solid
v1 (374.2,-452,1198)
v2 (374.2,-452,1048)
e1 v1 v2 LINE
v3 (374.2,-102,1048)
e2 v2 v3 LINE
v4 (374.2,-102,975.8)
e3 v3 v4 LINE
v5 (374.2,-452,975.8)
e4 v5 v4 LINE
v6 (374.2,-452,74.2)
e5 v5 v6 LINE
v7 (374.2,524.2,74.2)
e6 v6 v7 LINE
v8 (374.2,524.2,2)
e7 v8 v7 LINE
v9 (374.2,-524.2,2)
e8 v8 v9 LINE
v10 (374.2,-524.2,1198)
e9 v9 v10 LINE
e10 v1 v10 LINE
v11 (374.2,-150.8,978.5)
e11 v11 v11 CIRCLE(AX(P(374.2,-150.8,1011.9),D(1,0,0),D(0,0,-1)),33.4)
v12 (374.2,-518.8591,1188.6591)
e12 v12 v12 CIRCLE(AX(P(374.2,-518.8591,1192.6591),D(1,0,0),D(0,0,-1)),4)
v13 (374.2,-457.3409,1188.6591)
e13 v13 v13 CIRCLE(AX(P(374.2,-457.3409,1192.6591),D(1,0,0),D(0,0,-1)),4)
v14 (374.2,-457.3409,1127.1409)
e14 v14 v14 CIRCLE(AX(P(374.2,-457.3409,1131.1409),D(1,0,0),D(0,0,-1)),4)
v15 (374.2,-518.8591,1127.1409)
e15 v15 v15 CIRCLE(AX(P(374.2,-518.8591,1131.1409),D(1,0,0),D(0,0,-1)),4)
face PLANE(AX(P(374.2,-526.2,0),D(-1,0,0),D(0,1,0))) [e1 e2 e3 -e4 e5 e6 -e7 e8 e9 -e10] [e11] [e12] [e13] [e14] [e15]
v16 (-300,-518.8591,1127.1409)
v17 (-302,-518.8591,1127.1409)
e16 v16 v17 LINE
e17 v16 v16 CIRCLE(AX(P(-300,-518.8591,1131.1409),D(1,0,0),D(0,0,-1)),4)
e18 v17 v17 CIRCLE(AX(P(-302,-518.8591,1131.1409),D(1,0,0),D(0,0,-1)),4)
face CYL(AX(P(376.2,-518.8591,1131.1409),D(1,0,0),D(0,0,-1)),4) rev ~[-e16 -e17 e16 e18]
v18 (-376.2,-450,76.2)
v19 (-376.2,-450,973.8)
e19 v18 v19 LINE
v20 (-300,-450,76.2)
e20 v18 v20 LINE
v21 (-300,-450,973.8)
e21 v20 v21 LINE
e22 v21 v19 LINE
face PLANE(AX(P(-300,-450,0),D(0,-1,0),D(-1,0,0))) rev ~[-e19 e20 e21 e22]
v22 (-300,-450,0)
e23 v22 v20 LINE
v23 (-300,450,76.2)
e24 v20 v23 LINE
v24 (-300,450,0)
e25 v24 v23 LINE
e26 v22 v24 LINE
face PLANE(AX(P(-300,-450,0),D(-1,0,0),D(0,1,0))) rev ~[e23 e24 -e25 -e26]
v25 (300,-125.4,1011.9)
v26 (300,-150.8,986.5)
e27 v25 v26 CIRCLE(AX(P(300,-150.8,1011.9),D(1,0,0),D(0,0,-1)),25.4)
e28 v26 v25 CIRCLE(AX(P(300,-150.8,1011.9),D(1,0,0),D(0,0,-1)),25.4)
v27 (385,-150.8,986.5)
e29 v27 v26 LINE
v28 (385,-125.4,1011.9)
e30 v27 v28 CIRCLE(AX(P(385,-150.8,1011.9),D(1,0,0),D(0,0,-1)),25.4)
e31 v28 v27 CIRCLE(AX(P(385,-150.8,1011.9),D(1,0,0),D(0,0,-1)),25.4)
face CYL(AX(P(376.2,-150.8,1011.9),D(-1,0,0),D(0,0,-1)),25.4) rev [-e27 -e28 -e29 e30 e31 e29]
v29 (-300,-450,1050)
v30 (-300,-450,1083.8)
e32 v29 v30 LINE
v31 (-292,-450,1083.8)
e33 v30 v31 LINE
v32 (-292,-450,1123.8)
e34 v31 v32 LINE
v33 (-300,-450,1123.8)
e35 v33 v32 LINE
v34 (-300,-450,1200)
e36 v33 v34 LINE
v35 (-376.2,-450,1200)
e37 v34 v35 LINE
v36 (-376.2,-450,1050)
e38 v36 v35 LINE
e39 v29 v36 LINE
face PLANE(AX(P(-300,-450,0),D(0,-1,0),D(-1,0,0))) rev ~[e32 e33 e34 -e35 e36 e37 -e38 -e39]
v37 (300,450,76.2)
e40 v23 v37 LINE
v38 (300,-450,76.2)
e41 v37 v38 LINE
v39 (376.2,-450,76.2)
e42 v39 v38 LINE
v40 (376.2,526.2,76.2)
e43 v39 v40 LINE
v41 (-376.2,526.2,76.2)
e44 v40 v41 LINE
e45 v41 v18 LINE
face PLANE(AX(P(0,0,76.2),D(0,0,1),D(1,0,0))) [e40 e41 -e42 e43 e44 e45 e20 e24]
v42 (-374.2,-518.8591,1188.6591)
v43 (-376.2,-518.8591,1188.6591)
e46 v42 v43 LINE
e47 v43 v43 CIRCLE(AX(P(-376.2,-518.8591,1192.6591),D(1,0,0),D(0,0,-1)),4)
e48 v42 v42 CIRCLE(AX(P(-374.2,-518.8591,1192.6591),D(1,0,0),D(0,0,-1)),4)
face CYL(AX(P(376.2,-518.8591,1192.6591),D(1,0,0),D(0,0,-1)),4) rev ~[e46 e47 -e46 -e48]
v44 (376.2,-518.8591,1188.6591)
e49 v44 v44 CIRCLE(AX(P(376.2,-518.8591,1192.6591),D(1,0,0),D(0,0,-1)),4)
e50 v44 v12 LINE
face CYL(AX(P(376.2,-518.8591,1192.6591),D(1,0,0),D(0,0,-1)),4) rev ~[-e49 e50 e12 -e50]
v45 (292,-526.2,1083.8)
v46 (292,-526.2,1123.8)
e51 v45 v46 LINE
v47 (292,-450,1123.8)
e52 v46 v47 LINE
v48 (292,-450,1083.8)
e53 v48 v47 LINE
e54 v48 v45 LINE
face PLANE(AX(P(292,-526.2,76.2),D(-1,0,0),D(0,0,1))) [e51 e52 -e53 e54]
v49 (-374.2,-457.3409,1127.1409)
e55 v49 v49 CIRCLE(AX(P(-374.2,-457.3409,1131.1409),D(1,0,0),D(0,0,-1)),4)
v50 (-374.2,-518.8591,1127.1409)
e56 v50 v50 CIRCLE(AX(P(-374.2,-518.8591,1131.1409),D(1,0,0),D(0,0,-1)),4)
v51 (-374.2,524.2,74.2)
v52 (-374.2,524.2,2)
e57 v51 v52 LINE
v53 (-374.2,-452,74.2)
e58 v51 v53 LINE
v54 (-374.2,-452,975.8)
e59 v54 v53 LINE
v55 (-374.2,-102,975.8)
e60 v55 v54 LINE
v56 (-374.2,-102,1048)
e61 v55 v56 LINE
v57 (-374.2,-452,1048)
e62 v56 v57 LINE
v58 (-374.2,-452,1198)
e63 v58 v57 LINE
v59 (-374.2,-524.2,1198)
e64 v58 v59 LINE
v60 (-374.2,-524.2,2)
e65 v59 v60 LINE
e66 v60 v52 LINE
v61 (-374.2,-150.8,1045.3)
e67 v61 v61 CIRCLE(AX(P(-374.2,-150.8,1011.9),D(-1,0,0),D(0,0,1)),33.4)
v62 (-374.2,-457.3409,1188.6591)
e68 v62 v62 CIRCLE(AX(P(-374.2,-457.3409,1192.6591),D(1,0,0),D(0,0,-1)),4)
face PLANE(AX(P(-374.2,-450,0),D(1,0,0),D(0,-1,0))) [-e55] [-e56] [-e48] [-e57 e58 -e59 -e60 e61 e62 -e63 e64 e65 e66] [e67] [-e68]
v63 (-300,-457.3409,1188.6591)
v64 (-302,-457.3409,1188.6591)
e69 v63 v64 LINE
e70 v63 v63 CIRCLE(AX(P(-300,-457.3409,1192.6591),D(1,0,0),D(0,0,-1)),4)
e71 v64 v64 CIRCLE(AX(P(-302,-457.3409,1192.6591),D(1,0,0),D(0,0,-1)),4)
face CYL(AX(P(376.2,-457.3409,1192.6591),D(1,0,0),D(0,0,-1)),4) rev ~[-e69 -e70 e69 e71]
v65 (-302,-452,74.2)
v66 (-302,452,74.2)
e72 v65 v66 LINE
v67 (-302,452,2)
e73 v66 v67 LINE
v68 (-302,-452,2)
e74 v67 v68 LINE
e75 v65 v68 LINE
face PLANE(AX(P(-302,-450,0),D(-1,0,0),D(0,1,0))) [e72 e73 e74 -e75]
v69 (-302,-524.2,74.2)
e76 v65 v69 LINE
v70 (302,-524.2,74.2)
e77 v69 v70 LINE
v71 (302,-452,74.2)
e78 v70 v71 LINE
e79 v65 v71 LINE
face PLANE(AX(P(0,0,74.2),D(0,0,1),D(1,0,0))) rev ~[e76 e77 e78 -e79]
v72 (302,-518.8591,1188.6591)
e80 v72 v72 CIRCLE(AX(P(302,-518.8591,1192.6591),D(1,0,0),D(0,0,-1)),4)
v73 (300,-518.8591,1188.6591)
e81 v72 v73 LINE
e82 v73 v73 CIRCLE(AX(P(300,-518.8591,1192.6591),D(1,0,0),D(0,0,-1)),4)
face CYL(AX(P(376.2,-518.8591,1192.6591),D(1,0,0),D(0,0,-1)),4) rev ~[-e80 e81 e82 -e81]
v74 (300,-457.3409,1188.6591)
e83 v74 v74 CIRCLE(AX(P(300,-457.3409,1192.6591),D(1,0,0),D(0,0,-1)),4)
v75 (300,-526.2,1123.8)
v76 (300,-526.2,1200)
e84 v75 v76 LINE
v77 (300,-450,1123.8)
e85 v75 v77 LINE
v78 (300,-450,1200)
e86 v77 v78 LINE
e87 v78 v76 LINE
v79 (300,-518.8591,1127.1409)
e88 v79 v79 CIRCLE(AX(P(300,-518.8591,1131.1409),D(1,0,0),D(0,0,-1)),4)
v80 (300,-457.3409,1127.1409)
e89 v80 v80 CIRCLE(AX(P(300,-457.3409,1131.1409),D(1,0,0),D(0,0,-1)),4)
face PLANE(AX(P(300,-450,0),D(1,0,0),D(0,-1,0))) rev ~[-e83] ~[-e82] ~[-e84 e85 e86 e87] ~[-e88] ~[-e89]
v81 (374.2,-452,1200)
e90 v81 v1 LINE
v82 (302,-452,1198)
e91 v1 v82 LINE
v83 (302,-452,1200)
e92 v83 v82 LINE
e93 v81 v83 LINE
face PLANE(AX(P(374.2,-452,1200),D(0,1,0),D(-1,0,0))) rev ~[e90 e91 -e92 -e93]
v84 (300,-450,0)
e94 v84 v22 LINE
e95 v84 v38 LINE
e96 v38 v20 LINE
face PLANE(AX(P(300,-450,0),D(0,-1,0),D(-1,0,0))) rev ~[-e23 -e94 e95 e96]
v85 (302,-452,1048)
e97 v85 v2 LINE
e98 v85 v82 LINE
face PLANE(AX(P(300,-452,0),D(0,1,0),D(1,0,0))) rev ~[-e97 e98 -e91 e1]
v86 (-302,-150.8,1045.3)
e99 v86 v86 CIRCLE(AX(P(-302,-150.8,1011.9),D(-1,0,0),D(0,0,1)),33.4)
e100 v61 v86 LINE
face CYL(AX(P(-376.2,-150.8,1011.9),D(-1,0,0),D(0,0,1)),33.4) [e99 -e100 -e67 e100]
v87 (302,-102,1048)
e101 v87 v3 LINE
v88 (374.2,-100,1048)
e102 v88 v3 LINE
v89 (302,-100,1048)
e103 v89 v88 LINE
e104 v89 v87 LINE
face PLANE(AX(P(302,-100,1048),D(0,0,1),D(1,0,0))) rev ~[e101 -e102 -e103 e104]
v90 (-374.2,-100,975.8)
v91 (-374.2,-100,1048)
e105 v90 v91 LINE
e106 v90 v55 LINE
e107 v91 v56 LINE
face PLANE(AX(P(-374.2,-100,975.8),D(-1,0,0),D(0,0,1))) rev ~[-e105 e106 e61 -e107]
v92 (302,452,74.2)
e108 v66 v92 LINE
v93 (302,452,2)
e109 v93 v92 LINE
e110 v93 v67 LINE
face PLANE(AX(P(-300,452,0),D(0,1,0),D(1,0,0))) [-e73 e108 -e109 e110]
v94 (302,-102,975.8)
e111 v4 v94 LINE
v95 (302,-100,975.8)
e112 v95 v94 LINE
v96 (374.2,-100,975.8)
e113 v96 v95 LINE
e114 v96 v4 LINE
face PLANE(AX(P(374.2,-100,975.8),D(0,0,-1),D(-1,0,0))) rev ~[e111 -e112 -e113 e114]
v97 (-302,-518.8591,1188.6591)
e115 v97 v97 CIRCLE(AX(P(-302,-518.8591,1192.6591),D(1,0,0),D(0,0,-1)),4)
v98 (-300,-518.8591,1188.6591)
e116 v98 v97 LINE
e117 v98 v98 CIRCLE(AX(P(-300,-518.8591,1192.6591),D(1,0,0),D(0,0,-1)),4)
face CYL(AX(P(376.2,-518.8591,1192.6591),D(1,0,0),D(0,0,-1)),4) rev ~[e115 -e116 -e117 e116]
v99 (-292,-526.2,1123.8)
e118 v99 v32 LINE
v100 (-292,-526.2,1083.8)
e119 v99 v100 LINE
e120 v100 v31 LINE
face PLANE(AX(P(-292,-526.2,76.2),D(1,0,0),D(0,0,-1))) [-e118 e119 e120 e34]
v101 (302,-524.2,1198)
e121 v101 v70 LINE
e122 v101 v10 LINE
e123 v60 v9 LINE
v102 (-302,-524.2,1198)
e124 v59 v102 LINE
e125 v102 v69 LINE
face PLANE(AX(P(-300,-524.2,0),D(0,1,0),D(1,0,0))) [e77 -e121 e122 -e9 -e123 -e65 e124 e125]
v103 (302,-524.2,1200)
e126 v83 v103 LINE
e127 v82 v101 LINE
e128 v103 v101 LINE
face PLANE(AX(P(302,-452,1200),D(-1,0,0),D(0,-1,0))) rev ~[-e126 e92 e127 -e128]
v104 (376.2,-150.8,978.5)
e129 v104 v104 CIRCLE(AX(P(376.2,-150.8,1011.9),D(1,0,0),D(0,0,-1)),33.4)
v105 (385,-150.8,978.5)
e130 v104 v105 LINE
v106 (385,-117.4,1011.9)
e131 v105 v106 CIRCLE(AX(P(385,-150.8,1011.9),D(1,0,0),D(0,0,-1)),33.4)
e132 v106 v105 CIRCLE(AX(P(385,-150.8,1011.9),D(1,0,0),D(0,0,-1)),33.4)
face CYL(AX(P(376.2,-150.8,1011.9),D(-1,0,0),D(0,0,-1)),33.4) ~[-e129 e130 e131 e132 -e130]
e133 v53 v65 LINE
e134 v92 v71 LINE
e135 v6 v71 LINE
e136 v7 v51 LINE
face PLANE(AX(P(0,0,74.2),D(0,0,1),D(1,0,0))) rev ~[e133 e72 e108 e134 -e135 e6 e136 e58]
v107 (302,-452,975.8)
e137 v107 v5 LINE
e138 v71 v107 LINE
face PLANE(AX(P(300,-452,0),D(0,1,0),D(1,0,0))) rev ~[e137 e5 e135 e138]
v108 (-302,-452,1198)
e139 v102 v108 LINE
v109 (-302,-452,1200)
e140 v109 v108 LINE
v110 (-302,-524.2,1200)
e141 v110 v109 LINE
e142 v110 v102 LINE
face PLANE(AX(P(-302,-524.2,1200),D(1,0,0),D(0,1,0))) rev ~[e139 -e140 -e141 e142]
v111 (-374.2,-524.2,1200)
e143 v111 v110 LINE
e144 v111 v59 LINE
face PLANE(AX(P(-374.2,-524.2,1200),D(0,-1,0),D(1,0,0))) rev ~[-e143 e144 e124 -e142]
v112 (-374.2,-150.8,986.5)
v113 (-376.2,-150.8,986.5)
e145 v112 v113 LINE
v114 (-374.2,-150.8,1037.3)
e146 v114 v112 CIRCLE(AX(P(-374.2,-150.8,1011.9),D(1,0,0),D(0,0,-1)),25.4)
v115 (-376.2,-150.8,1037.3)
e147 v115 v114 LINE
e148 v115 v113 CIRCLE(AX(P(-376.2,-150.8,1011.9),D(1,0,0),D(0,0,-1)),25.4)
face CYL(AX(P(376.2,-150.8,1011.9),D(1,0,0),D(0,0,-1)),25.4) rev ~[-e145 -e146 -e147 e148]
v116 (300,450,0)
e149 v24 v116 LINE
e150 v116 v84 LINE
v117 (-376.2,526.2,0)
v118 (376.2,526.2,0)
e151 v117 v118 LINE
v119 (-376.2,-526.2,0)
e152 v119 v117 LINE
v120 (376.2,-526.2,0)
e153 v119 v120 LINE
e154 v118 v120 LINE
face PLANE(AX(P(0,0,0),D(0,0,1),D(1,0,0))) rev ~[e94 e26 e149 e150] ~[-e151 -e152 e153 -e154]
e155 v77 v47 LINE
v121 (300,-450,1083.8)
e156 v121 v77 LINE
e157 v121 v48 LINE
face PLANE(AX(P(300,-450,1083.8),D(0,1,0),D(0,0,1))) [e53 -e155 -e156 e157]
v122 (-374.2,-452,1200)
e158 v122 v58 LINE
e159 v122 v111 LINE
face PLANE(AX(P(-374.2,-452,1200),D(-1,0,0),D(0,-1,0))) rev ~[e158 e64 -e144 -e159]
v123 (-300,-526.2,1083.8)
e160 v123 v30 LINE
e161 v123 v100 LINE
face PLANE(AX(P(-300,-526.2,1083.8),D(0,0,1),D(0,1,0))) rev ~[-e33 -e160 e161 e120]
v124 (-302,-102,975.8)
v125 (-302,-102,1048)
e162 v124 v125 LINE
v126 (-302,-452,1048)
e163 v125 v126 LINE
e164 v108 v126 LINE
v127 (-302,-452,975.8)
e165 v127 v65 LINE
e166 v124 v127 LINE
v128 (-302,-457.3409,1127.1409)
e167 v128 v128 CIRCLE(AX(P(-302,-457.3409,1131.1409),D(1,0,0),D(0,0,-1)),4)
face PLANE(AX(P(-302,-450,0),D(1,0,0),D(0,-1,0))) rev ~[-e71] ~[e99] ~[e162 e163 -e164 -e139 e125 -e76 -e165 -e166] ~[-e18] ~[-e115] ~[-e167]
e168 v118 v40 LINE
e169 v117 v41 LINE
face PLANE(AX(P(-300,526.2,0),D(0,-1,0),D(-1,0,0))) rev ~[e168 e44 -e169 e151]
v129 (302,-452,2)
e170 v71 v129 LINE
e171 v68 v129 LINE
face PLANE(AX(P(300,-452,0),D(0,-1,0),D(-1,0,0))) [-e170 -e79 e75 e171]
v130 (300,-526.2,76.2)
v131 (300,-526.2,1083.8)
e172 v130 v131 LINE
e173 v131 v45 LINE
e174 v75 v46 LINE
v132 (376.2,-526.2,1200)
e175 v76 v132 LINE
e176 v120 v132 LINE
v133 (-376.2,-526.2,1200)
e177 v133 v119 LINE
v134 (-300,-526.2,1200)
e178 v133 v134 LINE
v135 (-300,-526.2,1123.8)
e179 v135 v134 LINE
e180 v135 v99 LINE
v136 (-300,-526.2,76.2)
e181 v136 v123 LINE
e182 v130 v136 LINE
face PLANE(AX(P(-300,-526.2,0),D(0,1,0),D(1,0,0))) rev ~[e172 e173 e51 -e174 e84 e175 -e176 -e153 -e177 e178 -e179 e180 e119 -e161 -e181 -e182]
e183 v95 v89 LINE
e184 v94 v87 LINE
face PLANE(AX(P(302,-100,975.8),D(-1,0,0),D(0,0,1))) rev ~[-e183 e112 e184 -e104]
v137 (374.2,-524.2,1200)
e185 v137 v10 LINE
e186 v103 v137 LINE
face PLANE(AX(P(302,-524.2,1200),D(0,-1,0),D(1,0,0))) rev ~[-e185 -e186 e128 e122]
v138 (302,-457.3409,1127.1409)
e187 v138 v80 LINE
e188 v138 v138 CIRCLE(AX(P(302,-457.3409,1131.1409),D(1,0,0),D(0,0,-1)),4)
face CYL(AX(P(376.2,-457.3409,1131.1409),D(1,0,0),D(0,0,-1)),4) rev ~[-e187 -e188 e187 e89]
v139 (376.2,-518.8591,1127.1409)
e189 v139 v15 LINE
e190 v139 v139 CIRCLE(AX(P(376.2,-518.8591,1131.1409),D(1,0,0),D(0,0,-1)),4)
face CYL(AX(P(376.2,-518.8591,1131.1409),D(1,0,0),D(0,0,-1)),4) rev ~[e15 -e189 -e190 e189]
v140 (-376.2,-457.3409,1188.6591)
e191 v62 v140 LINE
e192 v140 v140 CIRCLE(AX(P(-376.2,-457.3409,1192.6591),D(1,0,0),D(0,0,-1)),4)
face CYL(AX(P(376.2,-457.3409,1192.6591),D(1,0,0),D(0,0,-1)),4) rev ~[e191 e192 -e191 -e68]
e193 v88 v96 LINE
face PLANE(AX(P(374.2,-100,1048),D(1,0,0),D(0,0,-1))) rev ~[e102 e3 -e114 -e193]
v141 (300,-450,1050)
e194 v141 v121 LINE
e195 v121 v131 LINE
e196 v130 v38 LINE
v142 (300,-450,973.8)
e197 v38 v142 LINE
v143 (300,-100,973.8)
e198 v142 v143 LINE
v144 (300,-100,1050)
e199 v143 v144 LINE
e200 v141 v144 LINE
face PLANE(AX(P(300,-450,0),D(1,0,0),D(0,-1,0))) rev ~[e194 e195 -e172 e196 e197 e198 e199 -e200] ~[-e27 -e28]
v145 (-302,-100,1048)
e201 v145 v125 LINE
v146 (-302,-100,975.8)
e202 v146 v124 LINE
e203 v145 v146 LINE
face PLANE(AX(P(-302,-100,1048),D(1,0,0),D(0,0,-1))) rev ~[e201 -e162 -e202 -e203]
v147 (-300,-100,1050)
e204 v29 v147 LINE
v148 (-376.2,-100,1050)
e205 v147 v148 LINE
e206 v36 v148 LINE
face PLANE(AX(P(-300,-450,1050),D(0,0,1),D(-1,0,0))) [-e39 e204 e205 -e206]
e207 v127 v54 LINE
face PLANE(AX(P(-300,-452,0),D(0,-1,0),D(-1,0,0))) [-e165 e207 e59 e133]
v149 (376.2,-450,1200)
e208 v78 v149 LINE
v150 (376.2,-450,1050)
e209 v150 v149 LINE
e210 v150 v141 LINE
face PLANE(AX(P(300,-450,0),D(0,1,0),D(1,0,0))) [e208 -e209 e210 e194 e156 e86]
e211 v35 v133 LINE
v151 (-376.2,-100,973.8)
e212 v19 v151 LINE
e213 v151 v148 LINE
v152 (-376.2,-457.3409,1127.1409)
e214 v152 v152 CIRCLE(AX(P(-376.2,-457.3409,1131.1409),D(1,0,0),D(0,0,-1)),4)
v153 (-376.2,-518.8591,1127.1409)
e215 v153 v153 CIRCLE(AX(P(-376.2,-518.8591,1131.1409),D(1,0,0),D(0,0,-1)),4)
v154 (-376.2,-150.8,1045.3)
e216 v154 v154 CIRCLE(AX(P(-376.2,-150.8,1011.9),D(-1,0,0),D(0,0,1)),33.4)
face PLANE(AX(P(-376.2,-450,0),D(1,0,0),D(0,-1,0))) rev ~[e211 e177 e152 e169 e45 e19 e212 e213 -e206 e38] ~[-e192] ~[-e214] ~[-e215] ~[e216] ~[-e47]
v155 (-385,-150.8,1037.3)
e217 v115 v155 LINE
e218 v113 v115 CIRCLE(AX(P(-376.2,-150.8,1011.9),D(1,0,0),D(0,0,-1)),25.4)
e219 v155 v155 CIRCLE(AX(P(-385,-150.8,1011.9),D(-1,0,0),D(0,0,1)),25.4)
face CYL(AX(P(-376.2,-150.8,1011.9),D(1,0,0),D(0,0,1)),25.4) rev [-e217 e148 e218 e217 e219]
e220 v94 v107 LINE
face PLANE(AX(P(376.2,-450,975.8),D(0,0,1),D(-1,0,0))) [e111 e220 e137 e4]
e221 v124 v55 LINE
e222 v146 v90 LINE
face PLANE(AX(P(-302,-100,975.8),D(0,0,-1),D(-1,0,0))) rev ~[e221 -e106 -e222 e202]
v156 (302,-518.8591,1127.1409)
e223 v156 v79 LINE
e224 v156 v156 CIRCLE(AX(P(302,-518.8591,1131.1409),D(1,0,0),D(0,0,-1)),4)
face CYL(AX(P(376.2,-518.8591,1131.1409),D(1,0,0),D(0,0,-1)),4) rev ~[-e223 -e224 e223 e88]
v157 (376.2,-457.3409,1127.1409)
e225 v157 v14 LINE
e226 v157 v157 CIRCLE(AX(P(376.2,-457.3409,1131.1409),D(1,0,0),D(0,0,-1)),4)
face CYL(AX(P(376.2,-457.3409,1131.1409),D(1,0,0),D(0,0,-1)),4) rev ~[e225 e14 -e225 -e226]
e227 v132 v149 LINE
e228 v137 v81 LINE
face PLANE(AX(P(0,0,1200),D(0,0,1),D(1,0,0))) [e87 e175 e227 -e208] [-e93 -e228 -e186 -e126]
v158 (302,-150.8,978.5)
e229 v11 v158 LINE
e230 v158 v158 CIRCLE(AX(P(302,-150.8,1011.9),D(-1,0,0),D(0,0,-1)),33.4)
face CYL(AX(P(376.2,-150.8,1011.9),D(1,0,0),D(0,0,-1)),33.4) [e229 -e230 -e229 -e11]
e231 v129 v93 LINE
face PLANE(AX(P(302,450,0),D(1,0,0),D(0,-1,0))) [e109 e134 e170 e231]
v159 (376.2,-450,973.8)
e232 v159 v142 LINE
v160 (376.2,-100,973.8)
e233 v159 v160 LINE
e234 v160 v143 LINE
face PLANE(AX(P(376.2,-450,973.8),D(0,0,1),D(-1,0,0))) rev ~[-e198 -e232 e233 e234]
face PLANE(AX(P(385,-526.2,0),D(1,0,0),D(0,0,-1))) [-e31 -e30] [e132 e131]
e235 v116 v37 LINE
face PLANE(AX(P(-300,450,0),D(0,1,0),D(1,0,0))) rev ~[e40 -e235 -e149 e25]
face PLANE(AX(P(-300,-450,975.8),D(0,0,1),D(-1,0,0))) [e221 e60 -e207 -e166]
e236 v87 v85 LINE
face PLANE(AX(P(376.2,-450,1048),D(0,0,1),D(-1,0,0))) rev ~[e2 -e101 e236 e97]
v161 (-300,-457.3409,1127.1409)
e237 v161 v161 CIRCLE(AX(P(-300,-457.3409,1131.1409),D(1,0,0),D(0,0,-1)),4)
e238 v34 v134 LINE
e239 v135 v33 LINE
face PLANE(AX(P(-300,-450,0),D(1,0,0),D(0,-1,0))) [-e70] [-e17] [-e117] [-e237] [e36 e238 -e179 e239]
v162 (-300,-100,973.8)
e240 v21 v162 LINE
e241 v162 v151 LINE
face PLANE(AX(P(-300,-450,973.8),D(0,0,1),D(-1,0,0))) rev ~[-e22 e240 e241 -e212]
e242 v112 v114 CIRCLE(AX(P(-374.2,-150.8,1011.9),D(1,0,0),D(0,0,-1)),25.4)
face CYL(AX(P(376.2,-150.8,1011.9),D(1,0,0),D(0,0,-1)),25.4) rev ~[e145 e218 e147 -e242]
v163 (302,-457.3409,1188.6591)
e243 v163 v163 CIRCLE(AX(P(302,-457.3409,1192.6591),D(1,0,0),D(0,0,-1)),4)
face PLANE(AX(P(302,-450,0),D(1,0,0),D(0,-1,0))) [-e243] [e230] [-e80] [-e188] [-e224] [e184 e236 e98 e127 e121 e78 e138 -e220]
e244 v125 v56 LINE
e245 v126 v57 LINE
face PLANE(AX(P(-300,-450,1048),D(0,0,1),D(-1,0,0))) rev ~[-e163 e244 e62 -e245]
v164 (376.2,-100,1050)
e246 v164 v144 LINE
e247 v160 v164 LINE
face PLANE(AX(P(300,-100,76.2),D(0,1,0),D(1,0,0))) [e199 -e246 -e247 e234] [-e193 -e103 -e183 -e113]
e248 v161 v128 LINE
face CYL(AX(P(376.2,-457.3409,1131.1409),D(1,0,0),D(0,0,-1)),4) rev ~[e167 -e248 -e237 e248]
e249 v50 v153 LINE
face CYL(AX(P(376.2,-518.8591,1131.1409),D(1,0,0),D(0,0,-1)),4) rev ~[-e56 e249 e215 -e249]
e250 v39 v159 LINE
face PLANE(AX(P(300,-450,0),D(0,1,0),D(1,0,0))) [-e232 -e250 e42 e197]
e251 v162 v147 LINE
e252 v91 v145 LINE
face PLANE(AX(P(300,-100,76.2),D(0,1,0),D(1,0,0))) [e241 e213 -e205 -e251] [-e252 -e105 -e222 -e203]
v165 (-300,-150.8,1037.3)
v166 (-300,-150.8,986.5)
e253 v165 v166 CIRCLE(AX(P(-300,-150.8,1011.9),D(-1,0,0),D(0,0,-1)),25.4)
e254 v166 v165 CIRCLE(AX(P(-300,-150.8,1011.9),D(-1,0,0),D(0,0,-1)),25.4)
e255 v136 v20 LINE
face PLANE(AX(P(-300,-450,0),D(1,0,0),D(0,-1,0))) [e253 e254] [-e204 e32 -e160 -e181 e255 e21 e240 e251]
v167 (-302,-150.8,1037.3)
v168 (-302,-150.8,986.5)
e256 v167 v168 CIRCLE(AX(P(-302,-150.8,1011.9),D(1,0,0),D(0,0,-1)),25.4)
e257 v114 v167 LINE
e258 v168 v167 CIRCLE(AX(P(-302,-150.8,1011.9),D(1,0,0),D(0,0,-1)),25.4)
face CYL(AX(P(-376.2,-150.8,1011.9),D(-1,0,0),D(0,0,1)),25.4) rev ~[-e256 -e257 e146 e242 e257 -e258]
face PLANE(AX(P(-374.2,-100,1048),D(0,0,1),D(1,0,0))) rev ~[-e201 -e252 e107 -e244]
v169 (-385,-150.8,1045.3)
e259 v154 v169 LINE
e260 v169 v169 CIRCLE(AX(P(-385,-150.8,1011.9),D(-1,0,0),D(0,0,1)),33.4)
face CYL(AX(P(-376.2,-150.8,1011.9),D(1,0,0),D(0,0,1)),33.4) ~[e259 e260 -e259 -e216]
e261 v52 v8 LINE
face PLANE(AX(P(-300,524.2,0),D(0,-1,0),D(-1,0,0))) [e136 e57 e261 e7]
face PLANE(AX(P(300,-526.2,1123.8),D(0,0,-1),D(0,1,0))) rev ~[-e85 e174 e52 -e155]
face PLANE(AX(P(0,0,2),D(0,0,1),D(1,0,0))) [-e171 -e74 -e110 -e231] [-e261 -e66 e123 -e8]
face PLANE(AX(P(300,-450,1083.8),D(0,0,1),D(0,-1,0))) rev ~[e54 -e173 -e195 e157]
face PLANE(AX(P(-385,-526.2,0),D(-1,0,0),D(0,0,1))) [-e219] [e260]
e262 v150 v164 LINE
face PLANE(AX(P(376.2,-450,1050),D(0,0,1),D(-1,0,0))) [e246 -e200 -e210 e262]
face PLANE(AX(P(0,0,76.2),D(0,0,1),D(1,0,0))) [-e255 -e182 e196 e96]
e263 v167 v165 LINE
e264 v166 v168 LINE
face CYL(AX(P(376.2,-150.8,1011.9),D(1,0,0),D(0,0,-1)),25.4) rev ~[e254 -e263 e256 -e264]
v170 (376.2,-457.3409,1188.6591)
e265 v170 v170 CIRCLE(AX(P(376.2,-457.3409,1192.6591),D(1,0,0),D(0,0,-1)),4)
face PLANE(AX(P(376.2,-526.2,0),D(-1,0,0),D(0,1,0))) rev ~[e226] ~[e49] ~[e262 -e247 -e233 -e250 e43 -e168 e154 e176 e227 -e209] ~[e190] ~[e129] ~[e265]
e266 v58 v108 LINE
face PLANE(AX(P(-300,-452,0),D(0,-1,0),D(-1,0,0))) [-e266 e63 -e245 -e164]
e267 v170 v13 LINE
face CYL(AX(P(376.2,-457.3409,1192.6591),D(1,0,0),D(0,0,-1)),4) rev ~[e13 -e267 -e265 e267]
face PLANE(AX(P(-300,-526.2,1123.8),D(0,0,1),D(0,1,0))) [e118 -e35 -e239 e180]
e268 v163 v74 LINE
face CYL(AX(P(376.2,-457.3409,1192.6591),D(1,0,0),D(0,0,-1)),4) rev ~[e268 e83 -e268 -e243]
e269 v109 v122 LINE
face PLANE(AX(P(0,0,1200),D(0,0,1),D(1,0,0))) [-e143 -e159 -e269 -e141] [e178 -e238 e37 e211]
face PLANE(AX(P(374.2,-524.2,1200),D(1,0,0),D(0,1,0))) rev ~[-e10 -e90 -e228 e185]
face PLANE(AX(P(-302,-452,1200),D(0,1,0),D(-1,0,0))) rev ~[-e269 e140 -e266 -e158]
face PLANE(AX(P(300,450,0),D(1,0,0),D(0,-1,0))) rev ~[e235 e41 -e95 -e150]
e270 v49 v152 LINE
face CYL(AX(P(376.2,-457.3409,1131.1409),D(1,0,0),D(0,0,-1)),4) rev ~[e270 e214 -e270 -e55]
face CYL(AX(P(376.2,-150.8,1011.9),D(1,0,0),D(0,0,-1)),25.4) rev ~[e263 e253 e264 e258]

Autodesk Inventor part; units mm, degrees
ref_plane "YZ Plane" through (0, 0, 0) normal (1, 0, 0) x (0, 1, 0)
ref_plane "XZ Plane" through (0, 0, 0) normal (0, 1, 0) x (-1, 0, 0)
sketch "Boceto1" plane through (0, 0, 0) normal (0, 0, 1) x (1, 0, 0)
  line L0 (300, -450) -> (-300, -450)
  line L1 (-300, -450) -> (-300, 450)
  line L2 (-300, 450) -> (300, 450)
  line L3 (300, 450) -> (300, -450)
  line L4 (300, -450) -> (-300, 450) construction
  line L5 (-300, -450) -> (300, 450) construction
  line L6 (376.2, 526.2) -> (-376.2, 526.2)
  line L7 (-376.2, 526.2) -> (-376.2, -526.2)
  line L8 (-376.2, -526.2) -> (376.2, -526.2)
  line L9 (376.2, -526.2) -> (376.2, 526.2)
  line L10 (-300, -450) -> (-300, -526.2)
  line L11 (300, -450) -> (300, -526.2)
  line L12 (300, 450) -> (300, 526.2)
  line L13 (-300, 450) -> (-300, 526.2)
  line L14 (-300, -450) -> (-376.2, -450)
  line L15 (300, -450) -> (376.2, -450)
  point P0 (0, 0)
  dimension "d0" = 600
  dimension "d1" = 900
  dimension "d2" = 76.2
extrude "Extrusión1" add sketch "Boceto1" along normal blind 76.2 contours L11 L8 L10 L0 | L15 L9 L8 L11 | L3 L12 L6 L9 L15 | L14 L7 L6 L13 L1 | L10 L8 L7 L14 | L2 L13 L6 L12
extrude "Extrusión2" add sketch "Boceto1" along normal blind 1200 contours L15 L9 L8 L11 | L10 L8 L7 L14
sketch "Boceto2" plane through (300, -450, 76.2) normal (0, 1, 0) x (1, 0, 0)
  line L0 (76.2, 0) -> (76.2, -1123.8) projected
  line L1 (76.2, -1123.8) -> (76.2, -973.8)
  line L2 (76.2, -973.8) -> (0, -973.8)
  line L3 (0, 0) -> (0, -1123.8) projected
  line L4 (76.2, -973.8) -> (76.2, -897.6)
  line L5 (76.2, -897.6) -> (0, -897.6)
  line L6 (0, -897.6) -> (0, -973.8)
  line L7 (-600, 0) -> (-600, -1123.8) projected
  line L8 (-600, -897.6) -> (-600, -973.8)
  line L9 (-676.2, 0) -> (-676.2, -1123.8) projected
  line L10 (-676.2, -973.8) -> (-676.2, -897.6)
  line L11 (-600, -897.6) -> (-676.2, -897.6)
  line L12 (-600, -973.8) -> (-676.2, -973.8)
  point P0 (-300, 76.2)
  dimension "d7" = 150
  dimension "d8" = 76.2
extrude "Extrusión3" add sketch "Boceto2" along normal blind 350
sketch "Boceto3" plane through (376.2, -526.2, 0) normal (1, 0, 0) x (0, 0, -1)
  line L0 (0, 0) -> (0, 1052.4) projected
  line L1 (0, 1052.4) -> (-76.2, 1052.4) projected
  line L2 (-76.2, 76.2) -> (-76.2, 1052.4) projected
  line L3 (-76.2, 76.2) -> (-973.8, 76.2) projected
  line L4 (-973.8, 76.2) -> (-973.8, 426.2) projected
  line L5 (-1050, 426.2) -> (-973.8, 426.2) projected
  line L6 (-1050, 76.2) -> (-1050, 426.2) projected
  line L7 (-1050, 76.2) -> (-1200, 76.2) projected
  line L8 (-1200, 0) -> (-1200, 76.2) projected
  line L9 (0, 0) -> (-1200, 0) projected
  circle A0 centre (-1011.9, 375.4) radius 25.4
  line L10 (-1011.9, 375.4) -> (-1011.9, 426.2)
  line L11 (-973.8, 426.2) -> (-1050, 426.2) projected
  circle A1 centre (-1011.9, 375.4) radius 25.4
  circle A2 centre (-1011.9, 375.4) radius 33.4
  point P0 (0, 526.2)
  dimension "d11" = 50.8
  dimension "d12" = 50.8
  dimension "d16" = 8
extrude "Extrusión4" cut sketch "Boceto3" against normal blind 1200 contours A0
shell "Vaciado1" thickness 2 removed faces 2 at (325.4, -152.8439, 986.5824) at (-350.8, -152.8439, 986.5824)
extrude "Extrusión5" add sketch "Boceto3" against normal blind 76.2 contours A2
sketch "Boceto4" plane through (-376.2, -526.2, 0) normal (-1, 0, 0) x (0, 0, 1)
  circle A0 centre (1011.9, 375.4) radius 33.4 projected
  circle A1 centre (1011.9, 375.4) radius 25.4 projected
  point P0 (0, 526.2)
extrude "Extrusión6" add sketch "Boceto4" against normal blind 76.2
extrude "Extrusión7" add sketch "Boceto3" along normal blind 8.8 contours A2
extrude "Extrusión8" add sketch "Boceto4" along normal blind 8.8
sketch "Boceto5" plane through (376.2, -450, 973.8) normal (0, 0, -1) x (-1, 0, 0)
  point P0 (376.2, 450)
sketch "Boceto6" plane through (0, 0, 1200) normal (0, 0, 1) x (1, 0, 0)
  line L0 (374.2, -452) -> (302, -452) projected
  line L1 (302, -452) -> (302, -524.2) projected
  line L2 (374.2, -524.2) -> (374.2, -452) projected
  line L3 (302, -524.2) -> (374.2, -524.2) projected
  line L4 (300, -526.2) -> (376.2, -526.2) projected
  line L5 (300, -450) -> (300, -526.2) projected
  line L6 (300, -526.2) -> (376.2, -526.2) projected
  line L7 (376.2, -526.2) -> (376.2, -450) projected
  line L8 (376.2, -450) -> (300, -450) projected
  line L9 (-376.2, -450) -> (-376.2, -526.2) projected
  line L10 (-376.2, -526.2) -> (-300, -526.2) projected
  line L11 (-300, -526.2) -> (-300, -450) projected
  line L12 (-300, -450) -> (-376.2, -450) projected
  line L13 (-302, -452) -> (-374.2, -452) projected
  line L14 (-302, -524.2) -> (-302, -452) projected
  line L15 (-374.2, -452) -> (-374.2, -524.2) projected
  line L16 (-374.2, -524.2) -> (-302, -524.2) projected
  point P0 (0, 0)
extrude "Extrusión9" cut sketch "Boceto6" against normal blind 2 contours L2 L3 L1 L0 | L14 L16 L15 L13
sketch "Boceto7" plane through (300, -100, 76.2) normal (0, 1, 0) x (1, 0, 0)
  line L0 (-600, -973.8) -> (-600, -897.6) projected
  line L1 (-600, -897.6) -> (-676.2, -897.6) projected
  line L2 (-676.2, -897.6) -> (-676.2, -973.8) projected
  line L3 (-676.2, -973.8) -> (-600, -973.8) projected
  line L4 (-674.2, -899.6) -> (-674.2, -971.8) projected
  line L5 (-674.2, -971.8) -> (-602, -971.8) projected
  line L6 (-602, -899.6) -> (-674.2, -899.6) projected
  line L7 (-602, -971.8) -> (-602, -899.6) projected
  line L8 (0, -897.6) -> (0, -973.8) projected
  line L9 (0, -973.8) -> (76.2, -973.8) projected
  line L10 (76.2, -973.8) -> (76.2, -897.6) projected
  line L11 (76.2, -897.6) -> (0, -897.6) projected
  line L12 (2, -899.6) -> (2, -971.8) projected
  line L13 (2, -971.8) -> (74.2, -971.8) projected
  line L14 (74.2, -899.6) -> (2, -899.6) projected
  line L15 (74.2, -971.8) -> (74.2, -899.6) projected
  point P0 (-300, 76.2)
extrude "Extrusión10" cut sketch "Boceto7" against normal blind 2 contours L6 L7 L5 L4 | L14 L15 L13 L12
sketch "Boceto8" plane through (-376.2, -450, 1200) normal (0, 1, 0) x (1, 0, 0)
  point P0 (376.2, 1200)
sketch "Boceto9" plane through (376.2, -526.2, 0) normal (1, 0, 0) x (0, 0, -1)
  line L0 (-1200, 74.2) -> (-1200, 2) projected
  line L1 (-1200, 38.1) -> (-1174.6, 38.1)
  point P0 (0, 526.2)
  dimension "d29" = 25.4
ref_plane "Plano de trabajo1" through (0, -526.2, 0) normal (1, 0, 0) x (0, 0, -1)
sketch "Boceto12" plane through (376.2, -526.2, 0) normal (1, 0, 0) x (0, 0, -1)
  line L0 (0, 0) -> (-1200, 0) projected
  line L1 (-1050, 76.2) -> (-1200, 76.2) projected
  line L2 (-1200, 0) -> (-1123.8, 0)
  line L3 (-1123.8, 0) -> (-1123.8, 76.2)
  line L4 (-1123.8, 76.2) -> (-1200, 76.2)
  line L5 (-1200, 76.2) -> (-1200, 0)
  circle A0 centre (-1192.6591, 7.3409) radius 4
  circle A1 centre (-1131.1409, 7.3409) radius 4
  circle A2 centre (-1131.1409, 68.8591) radius 4
  circle A3 centre (-1192.6591, 68.8591) radius 4
  point P0 (0, 526.2)
  dimension "d30" = 76.2
  dimension "d32" = 8
  dimension "d33" = 8
  dimension "d34" = 8
  dimension "d35" = 8
extrude "Extrusión11" cut sketch "Boceto12" against normal blind 770 contours A0 | A1 | A2 | A3
sketch "Boceto13" plane through (-300, -526.2, 76.2) normal (1, 0, 0) x (0, 0, -1)
  line L0 (-1123.8, 76.2) -> (-1123.8, 0) projected
  line L1 (-973.8, 76.2) -> (-1123.8, 76.2) projected
  line L2 (-1123.8, 0) -> (-1047.6, 0)
  line L3 (-1047.6, 0) -> (-1047.6, 76.2)
  line L4 (-1047.6, 76.2) -> (-1123.8, 76.2)
  line L5 (-1123.8, 76.2) -> (-1123.8, 0)
  line L6 (-973.8, 76.2) -> (-1123.8, 76.2) projected
  line L7 (-1047.6, 0) -> (-1007.6, 0)
  line L8 (-1007.6, 0) -> (-1007.6, 76.2)
  line L9 (-1007.6, 76.2) -> (-1047.6, 76.2)
  line L10 (-1047.6, 76.2) -> (-1047.6, 0)
  point P0 (76.2, 526.2)
  point P1 (-1007.6, 76.2)
  dimension "d38" = 76.2
  dimension "d39" = 40
extrude "Extrusión12" add sketch "Boceto13" along normal blind 8 contours L1 L8 L7 L3
sketch "Boceto14" plane through (300, -526.2, 76.2) normal (-1, 0, 0) x (0, 0, 1)
  line L0 (1007.6, 76.2) -> (1007.6, 0) projected
  line L1 (1047.6, 0) -> (1047.6, 76.2) projected
  circle A0 centre (1054.9409, 68.8591) radius 4 projected
  circle A1 centre (1054.9409, 7.3409) radius 4 projected
  circle A2 centre (1116.4591, 68.8591) radius 4 projected
  circle A3 centre (1116.4591, 7.3409) radius 4 projected
  circle A4 centre (935.7, 375.4) radius 25.4 projected
  line L2 (0, 0) -> (0, 76.2) projected
  line L3 (0, 0) -> (1123.8, 0) projected
  line L4 (1123.8, 76.2) -> (1123.8, 0) projected
  line L5 (973.8, 76.2) -> (1123.8, 76.2) projected
  line L6 (973.8, 76.2) -> (973.8, 426.2) projected
  line L7 (897.6, 426.2) -> (973.8, 426.2) projected
  line L8 (897.6, 76.2) -> (897.6, 426.2) projected
  line L9 (0, 76.2) -> (897.6, 76.2) projected
  point P0 (-76.2, 526.2)
extrude "Extrusión13" add sketch "Boceto14" along normal blind 8 contours L5 L1 L3 L0
properties part number "Principal"
